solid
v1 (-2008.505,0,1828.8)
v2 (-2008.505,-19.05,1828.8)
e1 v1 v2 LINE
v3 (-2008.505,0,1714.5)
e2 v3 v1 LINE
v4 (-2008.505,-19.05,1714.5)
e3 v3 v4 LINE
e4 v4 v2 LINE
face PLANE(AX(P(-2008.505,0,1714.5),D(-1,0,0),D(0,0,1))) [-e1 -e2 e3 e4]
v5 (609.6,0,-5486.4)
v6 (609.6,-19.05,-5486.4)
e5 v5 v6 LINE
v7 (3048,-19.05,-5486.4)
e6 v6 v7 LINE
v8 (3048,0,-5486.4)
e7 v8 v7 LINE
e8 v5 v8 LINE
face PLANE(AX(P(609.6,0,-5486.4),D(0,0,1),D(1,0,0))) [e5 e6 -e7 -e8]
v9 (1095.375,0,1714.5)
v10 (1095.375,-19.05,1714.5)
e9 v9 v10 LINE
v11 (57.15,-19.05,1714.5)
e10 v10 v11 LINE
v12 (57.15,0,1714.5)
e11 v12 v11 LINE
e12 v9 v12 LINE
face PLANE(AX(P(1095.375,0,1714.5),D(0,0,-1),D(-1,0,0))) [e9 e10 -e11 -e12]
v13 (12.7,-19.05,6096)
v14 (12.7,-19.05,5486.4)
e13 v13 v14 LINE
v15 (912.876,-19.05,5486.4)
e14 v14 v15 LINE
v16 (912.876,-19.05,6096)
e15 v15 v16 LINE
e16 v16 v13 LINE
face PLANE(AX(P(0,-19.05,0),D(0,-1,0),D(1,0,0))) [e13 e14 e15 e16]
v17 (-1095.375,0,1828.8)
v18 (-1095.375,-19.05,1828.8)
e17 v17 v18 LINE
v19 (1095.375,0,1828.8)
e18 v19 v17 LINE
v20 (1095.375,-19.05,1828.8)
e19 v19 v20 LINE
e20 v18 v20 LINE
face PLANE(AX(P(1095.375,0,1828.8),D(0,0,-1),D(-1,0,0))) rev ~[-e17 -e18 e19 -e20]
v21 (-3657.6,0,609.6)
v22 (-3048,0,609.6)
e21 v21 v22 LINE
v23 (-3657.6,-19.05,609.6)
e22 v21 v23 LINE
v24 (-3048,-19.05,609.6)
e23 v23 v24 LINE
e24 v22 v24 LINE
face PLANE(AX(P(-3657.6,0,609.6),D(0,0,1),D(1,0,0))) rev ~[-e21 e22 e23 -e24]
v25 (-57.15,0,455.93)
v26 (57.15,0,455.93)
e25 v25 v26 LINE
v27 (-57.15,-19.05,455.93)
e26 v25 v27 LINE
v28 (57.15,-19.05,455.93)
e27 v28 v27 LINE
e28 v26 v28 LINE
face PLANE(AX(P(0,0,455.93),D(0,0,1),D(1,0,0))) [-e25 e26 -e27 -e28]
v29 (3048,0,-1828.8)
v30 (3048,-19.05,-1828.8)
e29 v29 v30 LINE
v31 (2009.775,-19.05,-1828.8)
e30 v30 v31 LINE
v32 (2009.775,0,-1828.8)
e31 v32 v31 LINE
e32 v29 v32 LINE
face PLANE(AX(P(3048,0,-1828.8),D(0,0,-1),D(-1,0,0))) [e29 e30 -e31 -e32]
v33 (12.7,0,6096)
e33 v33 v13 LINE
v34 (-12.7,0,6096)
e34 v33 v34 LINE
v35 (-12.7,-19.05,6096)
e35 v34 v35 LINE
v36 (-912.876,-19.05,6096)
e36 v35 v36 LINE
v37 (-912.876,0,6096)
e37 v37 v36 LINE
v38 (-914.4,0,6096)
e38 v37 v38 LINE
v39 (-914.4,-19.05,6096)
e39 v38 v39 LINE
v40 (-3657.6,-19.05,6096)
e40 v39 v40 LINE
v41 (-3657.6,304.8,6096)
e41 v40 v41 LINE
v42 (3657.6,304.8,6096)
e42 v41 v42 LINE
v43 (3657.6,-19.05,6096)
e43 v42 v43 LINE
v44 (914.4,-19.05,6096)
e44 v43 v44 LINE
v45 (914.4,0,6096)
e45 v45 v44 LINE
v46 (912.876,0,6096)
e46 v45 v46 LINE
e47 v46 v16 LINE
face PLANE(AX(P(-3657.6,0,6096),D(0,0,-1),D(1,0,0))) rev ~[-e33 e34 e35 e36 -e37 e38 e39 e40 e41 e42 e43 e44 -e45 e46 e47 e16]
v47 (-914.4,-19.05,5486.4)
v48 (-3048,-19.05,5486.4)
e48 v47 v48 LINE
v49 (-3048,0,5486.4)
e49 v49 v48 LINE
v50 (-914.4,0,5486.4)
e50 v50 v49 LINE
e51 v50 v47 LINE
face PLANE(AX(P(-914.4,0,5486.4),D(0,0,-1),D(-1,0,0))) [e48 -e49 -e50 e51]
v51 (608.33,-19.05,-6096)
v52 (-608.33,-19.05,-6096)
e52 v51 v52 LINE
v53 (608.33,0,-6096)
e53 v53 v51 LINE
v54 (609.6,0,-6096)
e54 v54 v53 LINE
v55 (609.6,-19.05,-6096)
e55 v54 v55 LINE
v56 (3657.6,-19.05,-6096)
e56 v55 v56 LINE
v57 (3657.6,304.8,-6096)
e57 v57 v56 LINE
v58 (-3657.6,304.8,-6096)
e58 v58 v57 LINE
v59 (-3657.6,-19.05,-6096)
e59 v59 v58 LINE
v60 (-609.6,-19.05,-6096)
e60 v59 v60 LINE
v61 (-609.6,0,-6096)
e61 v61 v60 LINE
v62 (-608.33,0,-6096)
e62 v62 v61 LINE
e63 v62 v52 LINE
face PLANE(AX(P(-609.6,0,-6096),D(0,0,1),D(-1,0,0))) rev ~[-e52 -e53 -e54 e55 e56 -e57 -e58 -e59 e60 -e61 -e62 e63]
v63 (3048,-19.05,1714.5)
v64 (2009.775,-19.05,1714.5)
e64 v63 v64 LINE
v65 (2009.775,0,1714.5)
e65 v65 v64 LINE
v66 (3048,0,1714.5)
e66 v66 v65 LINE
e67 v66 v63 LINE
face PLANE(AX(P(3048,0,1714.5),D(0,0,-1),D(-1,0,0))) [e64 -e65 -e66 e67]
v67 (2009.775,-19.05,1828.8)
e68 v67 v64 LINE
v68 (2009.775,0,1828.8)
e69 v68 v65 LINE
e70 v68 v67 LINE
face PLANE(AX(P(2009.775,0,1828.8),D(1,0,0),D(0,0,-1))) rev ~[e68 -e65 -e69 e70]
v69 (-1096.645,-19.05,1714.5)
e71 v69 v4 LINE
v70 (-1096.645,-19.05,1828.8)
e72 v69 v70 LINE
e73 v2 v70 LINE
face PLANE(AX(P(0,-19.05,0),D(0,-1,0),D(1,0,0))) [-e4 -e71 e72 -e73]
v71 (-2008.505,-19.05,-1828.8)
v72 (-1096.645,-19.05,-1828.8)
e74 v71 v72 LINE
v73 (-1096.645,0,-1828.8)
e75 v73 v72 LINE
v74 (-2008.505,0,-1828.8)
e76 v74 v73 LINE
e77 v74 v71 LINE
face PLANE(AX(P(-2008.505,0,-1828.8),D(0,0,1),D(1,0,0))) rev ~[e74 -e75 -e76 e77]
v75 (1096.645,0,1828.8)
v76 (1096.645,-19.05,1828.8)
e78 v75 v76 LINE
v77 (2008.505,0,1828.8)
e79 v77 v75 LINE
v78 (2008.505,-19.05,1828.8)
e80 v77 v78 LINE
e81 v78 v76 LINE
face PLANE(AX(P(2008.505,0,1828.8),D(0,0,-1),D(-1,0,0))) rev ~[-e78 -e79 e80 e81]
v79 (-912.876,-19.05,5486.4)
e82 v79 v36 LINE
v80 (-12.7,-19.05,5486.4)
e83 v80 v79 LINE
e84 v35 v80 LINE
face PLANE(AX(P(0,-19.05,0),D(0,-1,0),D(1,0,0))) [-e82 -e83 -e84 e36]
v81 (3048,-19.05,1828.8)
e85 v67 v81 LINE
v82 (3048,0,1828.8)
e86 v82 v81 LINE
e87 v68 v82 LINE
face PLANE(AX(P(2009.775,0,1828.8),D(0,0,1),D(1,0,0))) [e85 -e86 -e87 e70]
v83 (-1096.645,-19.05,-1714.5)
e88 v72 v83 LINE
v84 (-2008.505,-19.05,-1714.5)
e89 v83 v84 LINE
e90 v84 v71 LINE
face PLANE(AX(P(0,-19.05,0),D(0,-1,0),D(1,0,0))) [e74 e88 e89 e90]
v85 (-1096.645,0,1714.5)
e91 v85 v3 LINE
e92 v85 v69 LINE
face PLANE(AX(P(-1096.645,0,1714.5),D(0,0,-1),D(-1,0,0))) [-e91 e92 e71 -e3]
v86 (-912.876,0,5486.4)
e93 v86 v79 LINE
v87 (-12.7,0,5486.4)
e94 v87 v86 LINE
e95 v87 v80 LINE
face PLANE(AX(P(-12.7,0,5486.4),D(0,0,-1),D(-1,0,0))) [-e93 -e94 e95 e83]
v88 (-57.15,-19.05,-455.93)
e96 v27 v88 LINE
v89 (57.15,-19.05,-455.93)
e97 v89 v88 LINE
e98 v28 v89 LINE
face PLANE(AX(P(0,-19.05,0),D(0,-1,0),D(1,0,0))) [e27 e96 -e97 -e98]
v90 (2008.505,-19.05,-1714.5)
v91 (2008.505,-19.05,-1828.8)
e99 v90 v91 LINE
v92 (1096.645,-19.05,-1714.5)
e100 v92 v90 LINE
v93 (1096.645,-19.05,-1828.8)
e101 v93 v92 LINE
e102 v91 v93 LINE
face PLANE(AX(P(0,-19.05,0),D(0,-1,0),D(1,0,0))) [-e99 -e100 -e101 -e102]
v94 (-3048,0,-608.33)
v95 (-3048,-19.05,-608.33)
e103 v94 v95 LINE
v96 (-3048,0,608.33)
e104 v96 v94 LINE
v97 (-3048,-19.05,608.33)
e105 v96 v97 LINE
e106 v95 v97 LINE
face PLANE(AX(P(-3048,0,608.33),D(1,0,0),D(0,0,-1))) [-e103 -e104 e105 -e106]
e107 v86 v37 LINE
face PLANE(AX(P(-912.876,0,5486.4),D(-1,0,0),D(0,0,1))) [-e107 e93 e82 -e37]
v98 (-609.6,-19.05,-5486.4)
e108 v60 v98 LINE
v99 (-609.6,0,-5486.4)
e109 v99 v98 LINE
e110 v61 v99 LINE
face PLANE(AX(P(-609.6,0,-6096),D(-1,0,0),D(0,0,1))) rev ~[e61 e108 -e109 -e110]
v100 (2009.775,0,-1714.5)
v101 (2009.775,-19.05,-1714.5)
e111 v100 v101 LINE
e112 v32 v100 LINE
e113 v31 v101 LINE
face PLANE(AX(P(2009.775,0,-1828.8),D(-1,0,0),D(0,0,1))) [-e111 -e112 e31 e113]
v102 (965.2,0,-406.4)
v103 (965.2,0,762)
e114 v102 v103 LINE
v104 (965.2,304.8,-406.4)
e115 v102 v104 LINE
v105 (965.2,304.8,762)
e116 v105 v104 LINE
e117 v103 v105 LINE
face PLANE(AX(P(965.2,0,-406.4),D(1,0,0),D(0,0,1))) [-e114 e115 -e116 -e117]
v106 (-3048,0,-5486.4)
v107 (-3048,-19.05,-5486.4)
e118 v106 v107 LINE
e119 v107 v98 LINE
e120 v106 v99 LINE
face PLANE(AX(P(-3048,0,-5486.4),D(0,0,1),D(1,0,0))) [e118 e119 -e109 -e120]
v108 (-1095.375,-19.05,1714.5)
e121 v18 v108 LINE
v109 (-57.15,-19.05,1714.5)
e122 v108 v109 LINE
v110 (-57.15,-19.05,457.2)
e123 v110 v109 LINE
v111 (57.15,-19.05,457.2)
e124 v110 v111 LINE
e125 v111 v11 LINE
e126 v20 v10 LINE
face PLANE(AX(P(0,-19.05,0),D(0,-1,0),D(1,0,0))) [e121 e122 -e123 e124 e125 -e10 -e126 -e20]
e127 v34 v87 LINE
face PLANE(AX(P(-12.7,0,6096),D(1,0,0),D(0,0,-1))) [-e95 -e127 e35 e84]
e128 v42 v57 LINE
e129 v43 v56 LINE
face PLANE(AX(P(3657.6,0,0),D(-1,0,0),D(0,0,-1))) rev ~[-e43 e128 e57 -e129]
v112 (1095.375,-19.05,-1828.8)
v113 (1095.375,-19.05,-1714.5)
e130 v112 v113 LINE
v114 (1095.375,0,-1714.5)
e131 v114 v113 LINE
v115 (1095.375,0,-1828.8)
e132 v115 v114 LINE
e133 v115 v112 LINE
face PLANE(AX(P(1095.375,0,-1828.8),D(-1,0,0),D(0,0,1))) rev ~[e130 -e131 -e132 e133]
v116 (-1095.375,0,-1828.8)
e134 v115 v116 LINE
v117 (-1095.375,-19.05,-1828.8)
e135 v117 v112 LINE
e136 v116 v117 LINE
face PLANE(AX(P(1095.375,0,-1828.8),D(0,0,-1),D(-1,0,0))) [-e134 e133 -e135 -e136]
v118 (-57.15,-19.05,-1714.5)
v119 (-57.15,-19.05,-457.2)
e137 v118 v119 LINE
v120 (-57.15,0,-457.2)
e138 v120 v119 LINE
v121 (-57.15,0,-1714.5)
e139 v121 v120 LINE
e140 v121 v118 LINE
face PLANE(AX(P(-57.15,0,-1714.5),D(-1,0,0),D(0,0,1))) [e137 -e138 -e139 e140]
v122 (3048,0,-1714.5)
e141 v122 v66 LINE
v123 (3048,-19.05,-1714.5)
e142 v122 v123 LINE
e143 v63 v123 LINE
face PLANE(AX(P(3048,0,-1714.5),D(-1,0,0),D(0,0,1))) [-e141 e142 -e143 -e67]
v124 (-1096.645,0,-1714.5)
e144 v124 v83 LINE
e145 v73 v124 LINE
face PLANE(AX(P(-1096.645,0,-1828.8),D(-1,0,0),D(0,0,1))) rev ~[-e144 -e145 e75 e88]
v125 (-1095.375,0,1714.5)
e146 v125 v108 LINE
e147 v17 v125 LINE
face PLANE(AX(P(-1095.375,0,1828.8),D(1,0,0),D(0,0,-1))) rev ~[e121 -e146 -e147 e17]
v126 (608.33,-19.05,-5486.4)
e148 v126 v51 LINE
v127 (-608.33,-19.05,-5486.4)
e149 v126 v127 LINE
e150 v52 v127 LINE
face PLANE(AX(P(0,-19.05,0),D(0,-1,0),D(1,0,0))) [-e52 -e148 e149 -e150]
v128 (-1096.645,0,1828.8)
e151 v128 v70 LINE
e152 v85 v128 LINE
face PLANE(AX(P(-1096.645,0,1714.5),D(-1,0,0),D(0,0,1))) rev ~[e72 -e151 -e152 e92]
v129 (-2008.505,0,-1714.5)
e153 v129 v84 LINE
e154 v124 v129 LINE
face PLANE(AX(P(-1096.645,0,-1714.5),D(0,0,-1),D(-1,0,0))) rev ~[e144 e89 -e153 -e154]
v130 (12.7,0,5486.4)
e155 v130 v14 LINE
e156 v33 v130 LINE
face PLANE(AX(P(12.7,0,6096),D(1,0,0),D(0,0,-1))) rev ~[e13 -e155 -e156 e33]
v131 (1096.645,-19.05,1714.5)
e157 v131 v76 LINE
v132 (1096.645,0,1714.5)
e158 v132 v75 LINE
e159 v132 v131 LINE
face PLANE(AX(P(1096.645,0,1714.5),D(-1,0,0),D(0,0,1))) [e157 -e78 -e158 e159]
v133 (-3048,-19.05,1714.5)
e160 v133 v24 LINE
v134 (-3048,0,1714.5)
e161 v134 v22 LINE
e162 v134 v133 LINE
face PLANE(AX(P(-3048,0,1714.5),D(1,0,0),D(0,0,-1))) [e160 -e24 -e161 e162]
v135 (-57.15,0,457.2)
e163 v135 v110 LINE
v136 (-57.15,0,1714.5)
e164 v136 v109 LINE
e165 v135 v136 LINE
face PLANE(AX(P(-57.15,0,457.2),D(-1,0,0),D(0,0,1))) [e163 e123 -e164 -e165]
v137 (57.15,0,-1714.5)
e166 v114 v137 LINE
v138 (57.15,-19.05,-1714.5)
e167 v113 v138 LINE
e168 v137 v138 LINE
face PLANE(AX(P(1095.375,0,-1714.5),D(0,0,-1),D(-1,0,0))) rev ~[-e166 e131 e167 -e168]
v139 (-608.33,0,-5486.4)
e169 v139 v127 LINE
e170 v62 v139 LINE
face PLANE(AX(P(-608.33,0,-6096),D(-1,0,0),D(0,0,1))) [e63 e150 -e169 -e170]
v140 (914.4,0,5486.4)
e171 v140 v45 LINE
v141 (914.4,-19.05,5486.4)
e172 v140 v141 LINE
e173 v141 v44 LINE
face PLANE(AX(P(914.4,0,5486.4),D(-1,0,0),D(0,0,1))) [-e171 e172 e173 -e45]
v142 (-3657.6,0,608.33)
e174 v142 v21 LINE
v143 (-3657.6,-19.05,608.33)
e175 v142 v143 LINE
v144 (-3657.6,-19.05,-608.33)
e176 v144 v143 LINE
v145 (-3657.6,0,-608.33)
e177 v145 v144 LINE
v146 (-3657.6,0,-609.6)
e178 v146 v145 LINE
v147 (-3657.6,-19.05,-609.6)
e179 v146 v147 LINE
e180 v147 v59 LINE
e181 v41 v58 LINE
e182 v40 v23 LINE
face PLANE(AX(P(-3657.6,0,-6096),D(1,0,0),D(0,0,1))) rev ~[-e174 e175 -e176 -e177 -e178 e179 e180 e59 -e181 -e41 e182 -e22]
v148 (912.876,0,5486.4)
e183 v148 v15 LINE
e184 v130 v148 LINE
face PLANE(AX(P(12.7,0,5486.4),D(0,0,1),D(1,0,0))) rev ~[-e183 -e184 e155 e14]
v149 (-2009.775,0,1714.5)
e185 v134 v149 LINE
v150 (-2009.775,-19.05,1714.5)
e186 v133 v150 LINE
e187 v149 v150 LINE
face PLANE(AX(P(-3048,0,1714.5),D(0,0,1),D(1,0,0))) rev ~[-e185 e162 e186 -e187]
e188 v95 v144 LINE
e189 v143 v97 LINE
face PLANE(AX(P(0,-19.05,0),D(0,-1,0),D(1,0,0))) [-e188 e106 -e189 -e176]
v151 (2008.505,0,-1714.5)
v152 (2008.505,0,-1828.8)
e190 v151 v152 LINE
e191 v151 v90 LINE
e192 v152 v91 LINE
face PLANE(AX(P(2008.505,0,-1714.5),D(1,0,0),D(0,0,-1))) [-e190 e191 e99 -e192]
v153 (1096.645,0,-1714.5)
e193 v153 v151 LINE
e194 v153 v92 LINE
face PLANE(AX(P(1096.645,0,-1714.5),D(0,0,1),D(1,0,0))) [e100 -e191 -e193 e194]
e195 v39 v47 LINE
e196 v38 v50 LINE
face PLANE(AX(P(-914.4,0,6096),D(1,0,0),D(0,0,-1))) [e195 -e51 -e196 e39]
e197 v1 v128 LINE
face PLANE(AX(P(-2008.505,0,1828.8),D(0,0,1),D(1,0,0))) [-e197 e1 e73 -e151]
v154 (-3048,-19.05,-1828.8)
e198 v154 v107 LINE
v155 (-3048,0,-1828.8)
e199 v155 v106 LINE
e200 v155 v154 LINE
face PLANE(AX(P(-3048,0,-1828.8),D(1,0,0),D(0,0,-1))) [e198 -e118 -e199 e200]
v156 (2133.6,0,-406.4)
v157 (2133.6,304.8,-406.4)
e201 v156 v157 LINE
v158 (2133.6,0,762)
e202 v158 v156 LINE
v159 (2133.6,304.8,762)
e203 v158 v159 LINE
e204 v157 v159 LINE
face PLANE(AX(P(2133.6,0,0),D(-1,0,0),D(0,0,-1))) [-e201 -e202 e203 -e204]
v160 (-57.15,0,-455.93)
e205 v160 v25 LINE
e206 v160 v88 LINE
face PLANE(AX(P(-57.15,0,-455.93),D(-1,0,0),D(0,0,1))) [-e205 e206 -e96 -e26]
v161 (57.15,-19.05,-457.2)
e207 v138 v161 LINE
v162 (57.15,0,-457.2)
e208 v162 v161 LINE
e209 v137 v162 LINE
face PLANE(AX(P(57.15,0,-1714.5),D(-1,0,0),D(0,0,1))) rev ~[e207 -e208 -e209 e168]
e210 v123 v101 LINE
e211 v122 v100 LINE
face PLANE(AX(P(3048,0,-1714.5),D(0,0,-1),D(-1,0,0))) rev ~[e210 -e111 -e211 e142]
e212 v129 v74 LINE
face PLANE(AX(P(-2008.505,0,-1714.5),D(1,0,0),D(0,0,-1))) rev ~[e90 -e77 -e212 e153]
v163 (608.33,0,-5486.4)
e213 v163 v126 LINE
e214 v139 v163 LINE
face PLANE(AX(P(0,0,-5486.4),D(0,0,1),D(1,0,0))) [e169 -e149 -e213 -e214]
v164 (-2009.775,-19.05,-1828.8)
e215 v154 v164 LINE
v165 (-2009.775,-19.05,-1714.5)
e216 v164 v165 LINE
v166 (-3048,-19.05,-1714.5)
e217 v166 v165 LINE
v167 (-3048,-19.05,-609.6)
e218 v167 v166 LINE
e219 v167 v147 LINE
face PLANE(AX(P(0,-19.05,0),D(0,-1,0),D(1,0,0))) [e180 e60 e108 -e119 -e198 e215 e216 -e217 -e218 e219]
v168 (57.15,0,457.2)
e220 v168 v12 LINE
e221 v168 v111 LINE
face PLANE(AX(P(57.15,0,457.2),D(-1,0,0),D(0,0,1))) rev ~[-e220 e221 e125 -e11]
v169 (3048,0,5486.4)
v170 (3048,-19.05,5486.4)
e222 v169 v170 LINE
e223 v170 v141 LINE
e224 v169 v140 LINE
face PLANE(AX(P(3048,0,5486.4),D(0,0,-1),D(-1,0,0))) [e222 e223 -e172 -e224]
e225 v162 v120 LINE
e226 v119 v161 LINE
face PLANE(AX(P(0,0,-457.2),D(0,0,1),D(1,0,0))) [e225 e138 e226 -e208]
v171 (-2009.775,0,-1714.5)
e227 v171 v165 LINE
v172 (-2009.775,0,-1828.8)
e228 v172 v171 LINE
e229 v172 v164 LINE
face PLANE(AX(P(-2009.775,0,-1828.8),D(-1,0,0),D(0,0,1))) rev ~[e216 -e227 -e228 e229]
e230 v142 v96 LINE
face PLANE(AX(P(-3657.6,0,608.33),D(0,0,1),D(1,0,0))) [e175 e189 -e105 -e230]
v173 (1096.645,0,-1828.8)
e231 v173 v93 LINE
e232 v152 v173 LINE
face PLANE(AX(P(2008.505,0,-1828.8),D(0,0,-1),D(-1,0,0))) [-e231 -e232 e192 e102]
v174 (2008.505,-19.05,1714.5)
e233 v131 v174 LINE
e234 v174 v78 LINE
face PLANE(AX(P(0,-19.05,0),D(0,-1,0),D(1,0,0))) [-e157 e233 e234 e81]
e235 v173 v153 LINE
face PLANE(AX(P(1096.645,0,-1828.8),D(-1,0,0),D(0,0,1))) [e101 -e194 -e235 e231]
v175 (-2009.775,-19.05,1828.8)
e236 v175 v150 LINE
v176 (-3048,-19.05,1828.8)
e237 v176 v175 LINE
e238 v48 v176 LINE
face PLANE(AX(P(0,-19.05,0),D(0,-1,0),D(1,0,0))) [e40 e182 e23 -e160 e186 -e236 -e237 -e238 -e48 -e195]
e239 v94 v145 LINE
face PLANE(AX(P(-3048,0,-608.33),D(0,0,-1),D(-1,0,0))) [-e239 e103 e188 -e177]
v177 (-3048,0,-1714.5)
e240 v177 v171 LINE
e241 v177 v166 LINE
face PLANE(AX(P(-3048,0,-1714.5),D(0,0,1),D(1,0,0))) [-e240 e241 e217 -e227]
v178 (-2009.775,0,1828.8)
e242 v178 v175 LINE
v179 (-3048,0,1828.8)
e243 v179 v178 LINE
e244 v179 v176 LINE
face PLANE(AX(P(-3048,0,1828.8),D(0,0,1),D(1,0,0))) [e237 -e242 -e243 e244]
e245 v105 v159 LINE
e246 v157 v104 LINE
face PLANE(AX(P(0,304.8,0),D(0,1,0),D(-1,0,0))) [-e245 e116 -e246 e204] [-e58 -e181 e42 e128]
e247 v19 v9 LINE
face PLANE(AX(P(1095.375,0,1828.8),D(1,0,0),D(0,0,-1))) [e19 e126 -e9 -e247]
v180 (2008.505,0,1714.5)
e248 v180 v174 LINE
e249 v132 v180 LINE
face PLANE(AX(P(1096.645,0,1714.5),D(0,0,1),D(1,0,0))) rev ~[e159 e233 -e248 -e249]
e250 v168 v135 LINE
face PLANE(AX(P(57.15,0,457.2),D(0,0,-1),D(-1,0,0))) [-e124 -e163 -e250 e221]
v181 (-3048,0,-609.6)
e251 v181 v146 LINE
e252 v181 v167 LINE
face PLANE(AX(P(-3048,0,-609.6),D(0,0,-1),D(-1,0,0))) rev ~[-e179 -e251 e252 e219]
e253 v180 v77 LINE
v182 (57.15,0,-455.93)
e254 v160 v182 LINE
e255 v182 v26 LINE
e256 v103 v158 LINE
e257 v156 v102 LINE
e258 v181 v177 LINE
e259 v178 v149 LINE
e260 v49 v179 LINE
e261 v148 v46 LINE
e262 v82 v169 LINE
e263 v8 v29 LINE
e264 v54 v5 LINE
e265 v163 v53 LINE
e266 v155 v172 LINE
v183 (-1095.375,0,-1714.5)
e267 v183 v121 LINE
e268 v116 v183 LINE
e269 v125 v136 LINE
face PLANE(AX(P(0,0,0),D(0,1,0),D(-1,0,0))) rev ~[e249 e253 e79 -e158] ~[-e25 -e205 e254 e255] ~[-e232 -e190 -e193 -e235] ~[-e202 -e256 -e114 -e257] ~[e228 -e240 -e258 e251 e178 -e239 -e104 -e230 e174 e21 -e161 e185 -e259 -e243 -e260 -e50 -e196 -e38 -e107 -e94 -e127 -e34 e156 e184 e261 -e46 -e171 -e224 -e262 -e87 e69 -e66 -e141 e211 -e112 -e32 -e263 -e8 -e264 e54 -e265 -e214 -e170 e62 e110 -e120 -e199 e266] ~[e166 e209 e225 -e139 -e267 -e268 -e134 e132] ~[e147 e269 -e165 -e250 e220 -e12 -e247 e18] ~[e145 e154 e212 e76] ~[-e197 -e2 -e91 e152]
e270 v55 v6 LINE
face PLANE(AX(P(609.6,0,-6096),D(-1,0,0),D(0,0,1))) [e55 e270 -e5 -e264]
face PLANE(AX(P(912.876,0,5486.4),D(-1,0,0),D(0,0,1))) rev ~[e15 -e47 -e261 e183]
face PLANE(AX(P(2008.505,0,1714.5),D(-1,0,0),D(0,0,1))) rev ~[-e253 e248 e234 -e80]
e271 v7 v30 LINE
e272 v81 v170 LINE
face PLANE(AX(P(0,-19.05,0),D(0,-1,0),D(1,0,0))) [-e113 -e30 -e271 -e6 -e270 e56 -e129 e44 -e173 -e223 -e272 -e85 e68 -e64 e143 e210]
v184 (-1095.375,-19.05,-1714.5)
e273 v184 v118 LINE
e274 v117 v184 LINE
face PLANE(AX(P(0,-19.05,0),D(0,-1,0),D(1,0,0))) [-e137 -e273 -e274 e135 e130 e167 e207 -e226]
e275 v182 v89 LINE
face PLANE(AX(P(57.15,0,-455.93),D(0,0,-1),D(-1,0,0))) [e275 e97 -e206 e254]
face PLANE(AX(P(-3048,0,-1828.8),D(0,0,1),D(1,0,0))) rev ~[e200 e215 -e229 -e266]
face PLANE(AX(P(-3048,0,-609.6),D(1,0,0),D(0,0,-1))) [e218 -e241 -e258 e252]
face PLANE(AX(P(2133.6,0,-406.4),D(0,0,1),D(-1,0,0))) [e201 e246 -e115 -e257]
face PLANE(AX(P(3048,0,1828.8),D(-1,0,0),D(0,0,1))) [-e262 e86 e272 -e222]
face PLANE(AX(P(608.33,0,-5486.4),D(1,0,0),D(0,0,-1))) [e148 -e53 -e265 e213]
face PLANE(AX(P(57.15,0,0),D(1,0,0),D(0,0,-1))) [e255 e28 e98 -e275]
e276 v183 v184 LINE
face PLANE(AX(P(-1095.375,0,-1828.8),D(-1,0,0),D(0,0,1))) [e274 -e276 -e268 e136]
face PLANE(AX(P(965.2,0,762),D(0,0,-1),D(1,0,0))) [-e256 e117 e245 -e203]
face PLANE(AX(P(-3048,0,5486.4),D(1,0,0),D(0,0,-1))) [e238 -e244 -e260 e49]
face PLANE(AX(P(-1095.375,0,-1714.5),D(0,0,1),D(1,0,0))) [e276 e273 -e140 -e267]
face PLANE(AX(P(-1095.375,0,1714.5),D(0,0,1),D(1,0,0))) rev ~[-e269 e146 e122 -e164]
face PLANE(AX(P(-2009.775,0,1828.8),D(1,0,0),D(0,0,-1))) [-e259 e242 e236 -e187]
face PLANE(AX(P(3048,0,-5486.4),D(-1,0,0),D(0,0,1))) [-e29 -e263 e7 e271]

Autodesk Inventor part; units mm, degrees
ref_plane "YZ Plane" through (0, 0, 0) normal (1, 0, 0) x (0, 1, 0)
ref_plane "XZ Plane" through (0, 0, 0) normal (0, 1, 0) x (-1, 0, 0)
ref_plane "XY Plane" through (0, 0, 0) normal (0, 0, 1) x (1, 0, 0)
sketch "Sketch1" plane through (0, 0, 0) normal (0, 1, 0) x (-1, 0, 0)
  line L0 (3657.6, -6096) -> (3657.6, 6096)
  line L1 (-3657.6, 6096) -> (-3657.6, -6096)
  line L2 (-3657.6, -6096) -> (-609.6, -6096)
  line L3 (609.6, -6096) -> (3657.6, -6096)
  line L4 (3657.6, 6096) -> (914.4, 6096)
  line L5 (-914.4, 6096) -> (-3657.6, 6096)
  line L6 (0, -8534.4) -> (0, 8534.4) projected
  line L7 (-5120.64, 0) -> (5120.64, 0) projected
  line L8 (-3657.6, -6096) -> (3657.6, -6096)
  line L9 (3657.6, -6096) -> (3657.6, 6096)
  line L10 (3657.6, 6096) -> (-3657.6, 6096)
  line L11 (-3657.6, 6096) -> (-3657.6, -6096)
  line L12 (-2133.6, -406.4) -> (-965.2, -406.4)
  line L13 (-965.2, -406.4) -> (-965.2, 762)
  line L14 (-965.2, 762) -> (-2133.6, 762)
  line L15 (-2133.6, 762) -> (-2133.6, -406.4)
  dimension "d0" = 7315.2
  dimension "d12" = 12192
  dimension "d16" = 1168.4
  dimension "d17" = 1168.4
  dimension "d18" = 1524
  dimension "d19" = 5689.6
extrude "Extrusion1" add sketch "Sketch1" along normal blind 304.8 contours L3 L8 L6 L7 L0 | L7 L6 L10 L4 L0 | L7 L13 L14 L15 L1 L5 L10 L6 | L6 L8 L2 L1 L7 L15 L12 L13
sketch "Sketch2" plane through (0, 0, 0) normal (0, -1, 0) x (1, 0, 0)
  line L0 (3657.6, -6096) -> (3657.6, 6096)
  line L1 (-3657.6, 6096) -> (-3657.6, -6096)
  line L2 (-3048, 1714.5) -> (-3048, -1714.5)
  line L3 (3048, -5486.4) -> (3048, -1828.8)
  line L4 (3048, -1714.5) -> (3048, 1714.5)
  line L5 (3048, 1828.8) -> (3048, 5486.4)
  line L6 (-3048, -1828.8) -> (-3048, -5486.4)
  line L7 (-3048, 5486.4) -> (-3048, 1828.8)
  line L8 (-3048, 1714.5) -> (-3048, -1714.5)
  line L9 (-2009.775, -1828.8) -> (-2009.775, -1714.5)
  line L10 (-1095.375, -1828.8) -> (-1095.375, -1714.5)
  line L11 (-3048, -1714.5) -> (-2009.775, -1714.5)
  line L12 (-1095.375, -1714.5) -> (-57.15, -1714.5)
  line L13 (-3048, -1828.8) -> (-2009.775, -1828.8)
  line L14 (3048, -1714.5) -> (2009.775, -1714.5)
  line L15 (3048, -1828.8) -> (2009.775, -1828.8)
  line L16 (2009.775, -1828.8) -> (2009.775, -1714.5)
  line L17 (1095.375, -1828.8) -> (1095.375, -1714.5)
  line L18 (1095.375, -1714.5) -> (57.15, -1714.5)
  line L19 (1095.375, -1828.8) -> (-1095.375, -1828.8)
  line L20 (-2009.775, -1828.8) -> (-3048, -1828.8)
  line L21 (-1095.375, -1828.8) -> (1095.375, -1828.8)
  line L22 (2009.775, -1828.8) -> (3048, -1828.8)
  line L23 (57.15, -1714.5) -> (1095.375, -1714.5)
  line L24 (2009.775, -1714.5) -> (3048, -1714.5)
  line L25 (2009.775, 1828.8) -> (3048, 1828.8)
  line L26 (3048, 1828.8) -> (2009.775, 1828.8)
  line L27 (3048, 1714.5) -> (2009.775, 1714.5)
  line L28 (2009.775, 1714.5) -> (3048, 1714.5)
  line L29 (1095.375, 1714.5) -> (57.15, 1714.5)
  line L30 (-1095.375, 1828.8) -> (-1095.375, 1714.5)
  line L31 (-3048, 1714.5) -> (-2009.775, 1714.5)
  line L32 (-1095.375, 1714.5) -> (-57.15, 1714.5)
  line L33 (-3048, 1828.8) -> (-2009.775, 1828.8)
  line L34 (2009.775, 1828.8) -> (2009.775, 1714.5)
  line L35 (1095.375, 1828.8) -> (1095.375, 1714.5)
  line L36 (1095.375, 1828.8) -> (-1095.375, 1828.8)
  line L37 (-2009.775, 1828.8) -> (-3048, 1828.8)
  line L38 (-1095.375, 1828.8) -> (1095.375, 1828.8)
  line L39 (57.15, 1714.5) -> (1095.375, 1714.5)
  line L40 (-2009.775, 1828.8) -> (-2009.775, 1714.5)
  line L41 (-57.15, -457.2) -> (57.15, -457.2)
  line L42 (57.15, 457.2) -> (-57.15, 457.2)
  line L43 (-609.6, -6096) -> (-609.6, -5486.4)
  line L44 (609.6, -6096) -> (609.6, -5486.4)
  line L45 (-3048, -5486.4) -> (-609.6, -5486.4)
  line L46 (609.6, -5486.4) -> (3048, -5486.4)
  line L47 (-3657.6, -6096) -> (-609.6, -6096)
  line L48 (609.6, -6096) -> (3657.6, -6096)
  line L49 (914.4, 5486.4) -> (914.4, 6096)
  line L50 (-914.4, 6096) -> (-914.4, 5486.4)
  line L51 (3048, 5486.4) -> (914.4, 5486.4)
  line L52 (-914.4, 5486.4) -> (-3048, 5486.4)
  line L53 (3657.6, 6096) -> (914.4, 6096)
  line L54 (-914.4, 6096) -> (-3657.6, 6096)
  line L55 (-57.15, -1714.5) -> (-57.15, -457.2)
  line L56 (-57.15, 457.2) -> (-57.15, 1714.5)
  line L57 (-57.15, 1714.5) -> (-57.15, 457.2)
  line L58 (-57.15, -457.2) -> (-57.15, -1714.5)
  line L59 (57.15, -1714.5) -> (57.15, -457.2)
  line L60 (57.15, 457.2) -> (57.15, 1714.5)
  line L61 (57.15, 1714.5) -> (57.15, 457.2)
  line L62 (57.15, -457.2) -> (57.15, -1714.5)
  line L63 (-3048, 5486.4) -> (-3048, 1828.8)
  line L64 (-3048, 1828.8) -> (-2009.775, 1828.8)
  line L65 (-2009.775, 1828.8) -> (-2009.775, 1714.5)
  line L66 (-2009.775, 1714.5) -> (-3048, 1714.5)
  line L67 (-3048, 1714.5) -> (-3048, -1714.5)
  line L68 (-3048, -1714.5) -> (-2009.775, -1714.5)
  line L69 (-2009.775, -1714.5) -> (-2009.775, -1828.8)
  line L70 (-2009.775, -1828.8) -> (-3048, -1828.8)
  line L71 (-3048, -1828.8) -> (-3048, -5486.4)
  line L72 (-3048, -5486.4) -> (-609.6, -5486.4)
  line L73 (609.6, -5486.4) -> (3048, -5486.4)
  line L74 (3048, -5486.4) -> (3048, -1828.8)
  line L75 (3048, -1828.8) -> (2009.775, -1828.8)
  line L76 (2009.775, -1828.8) -> (2009.775, -1714.5)
  line L77 (2009.775, -1714.5) -> (3048, -1714.5)
  line L78 (3048, 1714.5) -> (3048, -1714.5)
  line L79 (3048, 1714.5) -> (2009.775, 1714.5)
  line L80 (2009.775, 1714.5) -> (2009.775, 1828.8)
  line L81 (2009.775, 1828.8) -> (3048, 1828.8)
  line L82 (3048, 1828.8) -> (3048, 5486.4)
  line L83 (3657.6, 6096) -> (-3657.6, 6096) projected
  line L84 (0, 8534.4) -> (0, -8534.4) projected
  line L85 (-12.7, 6096) -> (12.7, 6096)
  line L86 (3657.6, -6096) -> (3657.6, 6096) projected
  line L87 (-2009.775, 1828.8) -> (-2008.505, 1828.8)
  line L88 (-1095.375, 1828.8) -> (-1096.645, 1828.8)
  line L89 (-1095.375, 1714.5) -> (-1096.645, 1714.5)
  line L90 (-1096.645, 1714.5) -> (-1096.645, 1828.8)
  line L91 (-2009.775, 1714.5) -> (-2008.505, 1714.5)
  line L92 (-2008.505, 1714.5) -> (-2008.505, 1828.8)
  line L93 (-2008.505, 1828.8) -> (-1096.645, 1828.8)
  line L94 (-1096.645, 1828.8) -> (-1096.645, 1714.5)
  line L95 (-1096.645, 1714.5) -> (-2008.505, 1714.5)
  line L96 (-2008.505, 1714.5) -> (-2008.505, 1828.8)
  line L97 (-5120.64, 0) -> (5120.64, 0) projected
  line L98 (-2009.775, -1828.8) -> (-2008.505, -1828.8)
  line L99 (-1095.375, -1828.8) -> (-1096.645, -1828.8)
  line L100 (-1095.375, -1714.5) -> (-1096.645, -1714.5)
  line L101 (-2009.775, -1714.5) -> (-2008.505, -1714.5)
  line L102 (-2008.505, -1714.5) -> (-2008.505, -1828.8)
  line L103 (-2008.505, -1828.8) -> (-1096.645, -1828.8)
  line L104 (-1096.645, -1828.8) -> (-1096.645, -1714.5)
  line L105 (-1096.645, -1714.5) -> (-2008.505, -1714.5)
  line L106 (2009.775, 1828.8) -> (2008.505, 1828.8)
  line L107 (1095.375, 1828.8) -> (1096.645, 1828.8)
  line L108 (1095.375, 1714.5) -> (1096.645, 1714.5)
  line L109 (1096.645, 1714.5) -> (1096.645, 1828.8)
  line L110 (2009.775, 1714.5) -> (2008.505, 1714.5)
  line L111 (2008.505, 1714.5) -> (2008.505, 1828.8)
  line L112 (2008.505, 1828.8) -> (1096.645, 1828.8)
  line L113 (1096.645, 1714.5) -> (2008.505, 1714.5)
  line L114 (2009.775, -1714.5) -> (2008.505, -1714.5)
  line L115 (2008.505, -1714.5) -> (2008.505, -1828.8)
  line L116 (2009.775, -1828.8) -> (2008.505, -1828.8)
  line L117 (2008.505, -1828.8) -> (1096.645, -1828.8)
  line L118 (1096.645, -1714.5) -> (2008.505, -1714.5)
  line L119 (1095.375, -1714.5) -> (1096.645, -1714.5)
  line L120 (1096.645, -1828.8) -> (1096.645, -1714.5)
  line L121 (1095.375, -1828.8) -> (1096.645, -1828.8)
  line L122 (-3657.6, 6096) -> (-3657.6, -6096) projected
  line L123 (-3657.6, -6096) -> (3657.6, -6096) projected
  line L124 (-2008.505, -1828.8) -> (-1096.645, -1828.8)
  line L125 (-1096.645, -1828.8) -> (-1096.645, -1714.5)
  line L126 (-1096.645, -1714.5) -> (-2008.505, -1714.5)
  line L127 (-2008.505, -1714.5) -> (-2008.505, -1828.8)
  line L128 (1096.645, -1714.5) -> (2008.505, -1714.5)
  line L129 (2008.505, -1714.5) -> (2008.505, -1828.8)
  line L130 (2008.505, -1828.8) -> (1096.645, -1828.8)
  line L131 (1096.645, -1828.8) -> (1096.645, -1714.5)
  line L132 (1096.645, 1828.8) -> (2008.505, 1828.8)
  line L133 (2008.505, 1828.8) -> (2008.505, 1714.5)
  line L134 (2008.505, 1714.5) -> (1096.645, 1714.5)
  line L135 (1096.645, 1714.5) -> (1096.645, 1828.8)
  line L136 (-912.876, 6096) -> (-12.7, 6096)
  line L137 (-12.7, 6096) -> (-12.7, 5486.4)
  line L138 (-12.7, 5486.4) -> (-912.876, 5486.4)
  line L139 (-912.876, 5486.4) -> (-912.876, 6096)
  line L140 (12.7, 6096) -> (12.7, 5486.4)
  line L141 (12.7, 5486.4) -> (912.876, 5486.4)
  line L142 (912.876, 5486.4) -> (912.876, 6096)
  line L143 (-912.876, 5486.4) -> (-12.7, 5486.4)
  line L144 (-12.7, 5486.4) -> (-12.7, 6096)
  line L145 (-12.7, 6096) -> (-912.876, 6096)
  line L146 (-912.876, 6096) -> (-912.876, 5486.4)
  line L147 (12.7, 6096) -> (912.876, 6096)
  line L148 (912.876, 6096) -> (912.876, 5486.4)
  line L149 (912.876, 5486.4) -> (12.7, 5486.4)
  line L150 (12.7, 5486.4) -> (12.7, 6096)
  line L151 (-608.33, -5486.4) -> (608.33, -5486.4)
  line L152 (608.33, -5486.4) -> (608.33, -6096)
  line L153 (608.33, -6096) -> (-608.33, -6096)
  line L154 (-608.33, -6096) -> (-608.33, -5486.4)
  line L155 (-3657.6, 609.6) -> (-3048, 609.6)
  line L156 (-3048, 609.6) -> (-3048, -609.6)
  line L157 (-3048, -609.6) -> (-3657.6, -609.6)
  line L158 (-3657.6, -609.6) -> (-3657.6, 609.6)
  line L159 (-57.15, 455.93) -> (57.15, 455.93)
  line L160 (57.15, 455.93) -> (57.15, -455.93)
  line L161 (57.15, -455.93) -> (-57.15, -455.93)
  line L162 (-57.15, -455.93) -> (-57.15, 455.93)
  line L163 (-3657.6, 608.33) -> (-3048, 608.33)
  line L164 (-3048, 608.33) -> (-3048, -608.33)
  line L165 (-3048, -608.33) -> (-3657.6, -608.33)
  line L166 (-3657.6, -608.33) -> (-3657.6, 608.33)
  point P0 (0, 0)
  point P1 (0, 0)
  point P2 (0, 5486.4)
  dimension "d22" = 7315.2
  dimension "d23" = 609.6
  dimension "d24" = 1038.225
  dimension "d25" = 914.4
  dimension "d26" = 114.3
  dimension "d27" = 1038.225
  dimension "d28" = 1038.225
  dimension "d29" = 914.4
  dimension "d30" = 1219.2
  dimension "d31" = 609.6
  dimension "d32" = 4267.2
  dimension "d33" = 1828.8
  dimension "d34" = 12192
  dimension "d35" = 609.6
  dimension "d36" = 114.3
  dimension "d40" = 1.27
  dimension "d41" = 1.27
  dimension "d42" = 1.524
  dimension "d43" = 12.7
  dimension "d44" = 1.27
  dimension "d45" = 1219.2
  dimension "d48" = 1.27
  dimension "d51" = 1.27
extrude "Extrusion3" add sketch "Sketch2" along normal blind 19.05 contours L48 L44 L46 L3 L15 L16 L14 L4 L97 L0 | L97 L4 L27 L34 L25 L5 L51 L49 L53 L0 | L123 L84 L151 L152 | L123 L154 L151 L84 | L142 L141 L140 L83 | L115 L117 L120 L118 | L113 L109 L112 L111 | L84 L41 L59 L18 L17 L19 | L19 L10 L12 L55 L41 L84 | L47 L1 L157 L2 L11 L9 L13 L6 L45 L43 | L84 L36 L35 L29 L60 L42 | L42 L56 L32 L30 L36 L84 | L97 L1 L163 L2 | L2 L165 L1 L97 | L137 L138 L139 L83 | L103 L102 L105 L104 | L155 L1 L54 L50 L52 L7 L33 L40 L31 L2 | L90 L95 L92 L93
extrude "Extrusion4" add sketch "Sketch2" along normal blind 19.05 contours L160 L161 L84 L97 | L97 L84 L159 L160 | L97 L162 L159 L84 | L84 L161 L162 L97
properties part number "East_Structure_Roof"
